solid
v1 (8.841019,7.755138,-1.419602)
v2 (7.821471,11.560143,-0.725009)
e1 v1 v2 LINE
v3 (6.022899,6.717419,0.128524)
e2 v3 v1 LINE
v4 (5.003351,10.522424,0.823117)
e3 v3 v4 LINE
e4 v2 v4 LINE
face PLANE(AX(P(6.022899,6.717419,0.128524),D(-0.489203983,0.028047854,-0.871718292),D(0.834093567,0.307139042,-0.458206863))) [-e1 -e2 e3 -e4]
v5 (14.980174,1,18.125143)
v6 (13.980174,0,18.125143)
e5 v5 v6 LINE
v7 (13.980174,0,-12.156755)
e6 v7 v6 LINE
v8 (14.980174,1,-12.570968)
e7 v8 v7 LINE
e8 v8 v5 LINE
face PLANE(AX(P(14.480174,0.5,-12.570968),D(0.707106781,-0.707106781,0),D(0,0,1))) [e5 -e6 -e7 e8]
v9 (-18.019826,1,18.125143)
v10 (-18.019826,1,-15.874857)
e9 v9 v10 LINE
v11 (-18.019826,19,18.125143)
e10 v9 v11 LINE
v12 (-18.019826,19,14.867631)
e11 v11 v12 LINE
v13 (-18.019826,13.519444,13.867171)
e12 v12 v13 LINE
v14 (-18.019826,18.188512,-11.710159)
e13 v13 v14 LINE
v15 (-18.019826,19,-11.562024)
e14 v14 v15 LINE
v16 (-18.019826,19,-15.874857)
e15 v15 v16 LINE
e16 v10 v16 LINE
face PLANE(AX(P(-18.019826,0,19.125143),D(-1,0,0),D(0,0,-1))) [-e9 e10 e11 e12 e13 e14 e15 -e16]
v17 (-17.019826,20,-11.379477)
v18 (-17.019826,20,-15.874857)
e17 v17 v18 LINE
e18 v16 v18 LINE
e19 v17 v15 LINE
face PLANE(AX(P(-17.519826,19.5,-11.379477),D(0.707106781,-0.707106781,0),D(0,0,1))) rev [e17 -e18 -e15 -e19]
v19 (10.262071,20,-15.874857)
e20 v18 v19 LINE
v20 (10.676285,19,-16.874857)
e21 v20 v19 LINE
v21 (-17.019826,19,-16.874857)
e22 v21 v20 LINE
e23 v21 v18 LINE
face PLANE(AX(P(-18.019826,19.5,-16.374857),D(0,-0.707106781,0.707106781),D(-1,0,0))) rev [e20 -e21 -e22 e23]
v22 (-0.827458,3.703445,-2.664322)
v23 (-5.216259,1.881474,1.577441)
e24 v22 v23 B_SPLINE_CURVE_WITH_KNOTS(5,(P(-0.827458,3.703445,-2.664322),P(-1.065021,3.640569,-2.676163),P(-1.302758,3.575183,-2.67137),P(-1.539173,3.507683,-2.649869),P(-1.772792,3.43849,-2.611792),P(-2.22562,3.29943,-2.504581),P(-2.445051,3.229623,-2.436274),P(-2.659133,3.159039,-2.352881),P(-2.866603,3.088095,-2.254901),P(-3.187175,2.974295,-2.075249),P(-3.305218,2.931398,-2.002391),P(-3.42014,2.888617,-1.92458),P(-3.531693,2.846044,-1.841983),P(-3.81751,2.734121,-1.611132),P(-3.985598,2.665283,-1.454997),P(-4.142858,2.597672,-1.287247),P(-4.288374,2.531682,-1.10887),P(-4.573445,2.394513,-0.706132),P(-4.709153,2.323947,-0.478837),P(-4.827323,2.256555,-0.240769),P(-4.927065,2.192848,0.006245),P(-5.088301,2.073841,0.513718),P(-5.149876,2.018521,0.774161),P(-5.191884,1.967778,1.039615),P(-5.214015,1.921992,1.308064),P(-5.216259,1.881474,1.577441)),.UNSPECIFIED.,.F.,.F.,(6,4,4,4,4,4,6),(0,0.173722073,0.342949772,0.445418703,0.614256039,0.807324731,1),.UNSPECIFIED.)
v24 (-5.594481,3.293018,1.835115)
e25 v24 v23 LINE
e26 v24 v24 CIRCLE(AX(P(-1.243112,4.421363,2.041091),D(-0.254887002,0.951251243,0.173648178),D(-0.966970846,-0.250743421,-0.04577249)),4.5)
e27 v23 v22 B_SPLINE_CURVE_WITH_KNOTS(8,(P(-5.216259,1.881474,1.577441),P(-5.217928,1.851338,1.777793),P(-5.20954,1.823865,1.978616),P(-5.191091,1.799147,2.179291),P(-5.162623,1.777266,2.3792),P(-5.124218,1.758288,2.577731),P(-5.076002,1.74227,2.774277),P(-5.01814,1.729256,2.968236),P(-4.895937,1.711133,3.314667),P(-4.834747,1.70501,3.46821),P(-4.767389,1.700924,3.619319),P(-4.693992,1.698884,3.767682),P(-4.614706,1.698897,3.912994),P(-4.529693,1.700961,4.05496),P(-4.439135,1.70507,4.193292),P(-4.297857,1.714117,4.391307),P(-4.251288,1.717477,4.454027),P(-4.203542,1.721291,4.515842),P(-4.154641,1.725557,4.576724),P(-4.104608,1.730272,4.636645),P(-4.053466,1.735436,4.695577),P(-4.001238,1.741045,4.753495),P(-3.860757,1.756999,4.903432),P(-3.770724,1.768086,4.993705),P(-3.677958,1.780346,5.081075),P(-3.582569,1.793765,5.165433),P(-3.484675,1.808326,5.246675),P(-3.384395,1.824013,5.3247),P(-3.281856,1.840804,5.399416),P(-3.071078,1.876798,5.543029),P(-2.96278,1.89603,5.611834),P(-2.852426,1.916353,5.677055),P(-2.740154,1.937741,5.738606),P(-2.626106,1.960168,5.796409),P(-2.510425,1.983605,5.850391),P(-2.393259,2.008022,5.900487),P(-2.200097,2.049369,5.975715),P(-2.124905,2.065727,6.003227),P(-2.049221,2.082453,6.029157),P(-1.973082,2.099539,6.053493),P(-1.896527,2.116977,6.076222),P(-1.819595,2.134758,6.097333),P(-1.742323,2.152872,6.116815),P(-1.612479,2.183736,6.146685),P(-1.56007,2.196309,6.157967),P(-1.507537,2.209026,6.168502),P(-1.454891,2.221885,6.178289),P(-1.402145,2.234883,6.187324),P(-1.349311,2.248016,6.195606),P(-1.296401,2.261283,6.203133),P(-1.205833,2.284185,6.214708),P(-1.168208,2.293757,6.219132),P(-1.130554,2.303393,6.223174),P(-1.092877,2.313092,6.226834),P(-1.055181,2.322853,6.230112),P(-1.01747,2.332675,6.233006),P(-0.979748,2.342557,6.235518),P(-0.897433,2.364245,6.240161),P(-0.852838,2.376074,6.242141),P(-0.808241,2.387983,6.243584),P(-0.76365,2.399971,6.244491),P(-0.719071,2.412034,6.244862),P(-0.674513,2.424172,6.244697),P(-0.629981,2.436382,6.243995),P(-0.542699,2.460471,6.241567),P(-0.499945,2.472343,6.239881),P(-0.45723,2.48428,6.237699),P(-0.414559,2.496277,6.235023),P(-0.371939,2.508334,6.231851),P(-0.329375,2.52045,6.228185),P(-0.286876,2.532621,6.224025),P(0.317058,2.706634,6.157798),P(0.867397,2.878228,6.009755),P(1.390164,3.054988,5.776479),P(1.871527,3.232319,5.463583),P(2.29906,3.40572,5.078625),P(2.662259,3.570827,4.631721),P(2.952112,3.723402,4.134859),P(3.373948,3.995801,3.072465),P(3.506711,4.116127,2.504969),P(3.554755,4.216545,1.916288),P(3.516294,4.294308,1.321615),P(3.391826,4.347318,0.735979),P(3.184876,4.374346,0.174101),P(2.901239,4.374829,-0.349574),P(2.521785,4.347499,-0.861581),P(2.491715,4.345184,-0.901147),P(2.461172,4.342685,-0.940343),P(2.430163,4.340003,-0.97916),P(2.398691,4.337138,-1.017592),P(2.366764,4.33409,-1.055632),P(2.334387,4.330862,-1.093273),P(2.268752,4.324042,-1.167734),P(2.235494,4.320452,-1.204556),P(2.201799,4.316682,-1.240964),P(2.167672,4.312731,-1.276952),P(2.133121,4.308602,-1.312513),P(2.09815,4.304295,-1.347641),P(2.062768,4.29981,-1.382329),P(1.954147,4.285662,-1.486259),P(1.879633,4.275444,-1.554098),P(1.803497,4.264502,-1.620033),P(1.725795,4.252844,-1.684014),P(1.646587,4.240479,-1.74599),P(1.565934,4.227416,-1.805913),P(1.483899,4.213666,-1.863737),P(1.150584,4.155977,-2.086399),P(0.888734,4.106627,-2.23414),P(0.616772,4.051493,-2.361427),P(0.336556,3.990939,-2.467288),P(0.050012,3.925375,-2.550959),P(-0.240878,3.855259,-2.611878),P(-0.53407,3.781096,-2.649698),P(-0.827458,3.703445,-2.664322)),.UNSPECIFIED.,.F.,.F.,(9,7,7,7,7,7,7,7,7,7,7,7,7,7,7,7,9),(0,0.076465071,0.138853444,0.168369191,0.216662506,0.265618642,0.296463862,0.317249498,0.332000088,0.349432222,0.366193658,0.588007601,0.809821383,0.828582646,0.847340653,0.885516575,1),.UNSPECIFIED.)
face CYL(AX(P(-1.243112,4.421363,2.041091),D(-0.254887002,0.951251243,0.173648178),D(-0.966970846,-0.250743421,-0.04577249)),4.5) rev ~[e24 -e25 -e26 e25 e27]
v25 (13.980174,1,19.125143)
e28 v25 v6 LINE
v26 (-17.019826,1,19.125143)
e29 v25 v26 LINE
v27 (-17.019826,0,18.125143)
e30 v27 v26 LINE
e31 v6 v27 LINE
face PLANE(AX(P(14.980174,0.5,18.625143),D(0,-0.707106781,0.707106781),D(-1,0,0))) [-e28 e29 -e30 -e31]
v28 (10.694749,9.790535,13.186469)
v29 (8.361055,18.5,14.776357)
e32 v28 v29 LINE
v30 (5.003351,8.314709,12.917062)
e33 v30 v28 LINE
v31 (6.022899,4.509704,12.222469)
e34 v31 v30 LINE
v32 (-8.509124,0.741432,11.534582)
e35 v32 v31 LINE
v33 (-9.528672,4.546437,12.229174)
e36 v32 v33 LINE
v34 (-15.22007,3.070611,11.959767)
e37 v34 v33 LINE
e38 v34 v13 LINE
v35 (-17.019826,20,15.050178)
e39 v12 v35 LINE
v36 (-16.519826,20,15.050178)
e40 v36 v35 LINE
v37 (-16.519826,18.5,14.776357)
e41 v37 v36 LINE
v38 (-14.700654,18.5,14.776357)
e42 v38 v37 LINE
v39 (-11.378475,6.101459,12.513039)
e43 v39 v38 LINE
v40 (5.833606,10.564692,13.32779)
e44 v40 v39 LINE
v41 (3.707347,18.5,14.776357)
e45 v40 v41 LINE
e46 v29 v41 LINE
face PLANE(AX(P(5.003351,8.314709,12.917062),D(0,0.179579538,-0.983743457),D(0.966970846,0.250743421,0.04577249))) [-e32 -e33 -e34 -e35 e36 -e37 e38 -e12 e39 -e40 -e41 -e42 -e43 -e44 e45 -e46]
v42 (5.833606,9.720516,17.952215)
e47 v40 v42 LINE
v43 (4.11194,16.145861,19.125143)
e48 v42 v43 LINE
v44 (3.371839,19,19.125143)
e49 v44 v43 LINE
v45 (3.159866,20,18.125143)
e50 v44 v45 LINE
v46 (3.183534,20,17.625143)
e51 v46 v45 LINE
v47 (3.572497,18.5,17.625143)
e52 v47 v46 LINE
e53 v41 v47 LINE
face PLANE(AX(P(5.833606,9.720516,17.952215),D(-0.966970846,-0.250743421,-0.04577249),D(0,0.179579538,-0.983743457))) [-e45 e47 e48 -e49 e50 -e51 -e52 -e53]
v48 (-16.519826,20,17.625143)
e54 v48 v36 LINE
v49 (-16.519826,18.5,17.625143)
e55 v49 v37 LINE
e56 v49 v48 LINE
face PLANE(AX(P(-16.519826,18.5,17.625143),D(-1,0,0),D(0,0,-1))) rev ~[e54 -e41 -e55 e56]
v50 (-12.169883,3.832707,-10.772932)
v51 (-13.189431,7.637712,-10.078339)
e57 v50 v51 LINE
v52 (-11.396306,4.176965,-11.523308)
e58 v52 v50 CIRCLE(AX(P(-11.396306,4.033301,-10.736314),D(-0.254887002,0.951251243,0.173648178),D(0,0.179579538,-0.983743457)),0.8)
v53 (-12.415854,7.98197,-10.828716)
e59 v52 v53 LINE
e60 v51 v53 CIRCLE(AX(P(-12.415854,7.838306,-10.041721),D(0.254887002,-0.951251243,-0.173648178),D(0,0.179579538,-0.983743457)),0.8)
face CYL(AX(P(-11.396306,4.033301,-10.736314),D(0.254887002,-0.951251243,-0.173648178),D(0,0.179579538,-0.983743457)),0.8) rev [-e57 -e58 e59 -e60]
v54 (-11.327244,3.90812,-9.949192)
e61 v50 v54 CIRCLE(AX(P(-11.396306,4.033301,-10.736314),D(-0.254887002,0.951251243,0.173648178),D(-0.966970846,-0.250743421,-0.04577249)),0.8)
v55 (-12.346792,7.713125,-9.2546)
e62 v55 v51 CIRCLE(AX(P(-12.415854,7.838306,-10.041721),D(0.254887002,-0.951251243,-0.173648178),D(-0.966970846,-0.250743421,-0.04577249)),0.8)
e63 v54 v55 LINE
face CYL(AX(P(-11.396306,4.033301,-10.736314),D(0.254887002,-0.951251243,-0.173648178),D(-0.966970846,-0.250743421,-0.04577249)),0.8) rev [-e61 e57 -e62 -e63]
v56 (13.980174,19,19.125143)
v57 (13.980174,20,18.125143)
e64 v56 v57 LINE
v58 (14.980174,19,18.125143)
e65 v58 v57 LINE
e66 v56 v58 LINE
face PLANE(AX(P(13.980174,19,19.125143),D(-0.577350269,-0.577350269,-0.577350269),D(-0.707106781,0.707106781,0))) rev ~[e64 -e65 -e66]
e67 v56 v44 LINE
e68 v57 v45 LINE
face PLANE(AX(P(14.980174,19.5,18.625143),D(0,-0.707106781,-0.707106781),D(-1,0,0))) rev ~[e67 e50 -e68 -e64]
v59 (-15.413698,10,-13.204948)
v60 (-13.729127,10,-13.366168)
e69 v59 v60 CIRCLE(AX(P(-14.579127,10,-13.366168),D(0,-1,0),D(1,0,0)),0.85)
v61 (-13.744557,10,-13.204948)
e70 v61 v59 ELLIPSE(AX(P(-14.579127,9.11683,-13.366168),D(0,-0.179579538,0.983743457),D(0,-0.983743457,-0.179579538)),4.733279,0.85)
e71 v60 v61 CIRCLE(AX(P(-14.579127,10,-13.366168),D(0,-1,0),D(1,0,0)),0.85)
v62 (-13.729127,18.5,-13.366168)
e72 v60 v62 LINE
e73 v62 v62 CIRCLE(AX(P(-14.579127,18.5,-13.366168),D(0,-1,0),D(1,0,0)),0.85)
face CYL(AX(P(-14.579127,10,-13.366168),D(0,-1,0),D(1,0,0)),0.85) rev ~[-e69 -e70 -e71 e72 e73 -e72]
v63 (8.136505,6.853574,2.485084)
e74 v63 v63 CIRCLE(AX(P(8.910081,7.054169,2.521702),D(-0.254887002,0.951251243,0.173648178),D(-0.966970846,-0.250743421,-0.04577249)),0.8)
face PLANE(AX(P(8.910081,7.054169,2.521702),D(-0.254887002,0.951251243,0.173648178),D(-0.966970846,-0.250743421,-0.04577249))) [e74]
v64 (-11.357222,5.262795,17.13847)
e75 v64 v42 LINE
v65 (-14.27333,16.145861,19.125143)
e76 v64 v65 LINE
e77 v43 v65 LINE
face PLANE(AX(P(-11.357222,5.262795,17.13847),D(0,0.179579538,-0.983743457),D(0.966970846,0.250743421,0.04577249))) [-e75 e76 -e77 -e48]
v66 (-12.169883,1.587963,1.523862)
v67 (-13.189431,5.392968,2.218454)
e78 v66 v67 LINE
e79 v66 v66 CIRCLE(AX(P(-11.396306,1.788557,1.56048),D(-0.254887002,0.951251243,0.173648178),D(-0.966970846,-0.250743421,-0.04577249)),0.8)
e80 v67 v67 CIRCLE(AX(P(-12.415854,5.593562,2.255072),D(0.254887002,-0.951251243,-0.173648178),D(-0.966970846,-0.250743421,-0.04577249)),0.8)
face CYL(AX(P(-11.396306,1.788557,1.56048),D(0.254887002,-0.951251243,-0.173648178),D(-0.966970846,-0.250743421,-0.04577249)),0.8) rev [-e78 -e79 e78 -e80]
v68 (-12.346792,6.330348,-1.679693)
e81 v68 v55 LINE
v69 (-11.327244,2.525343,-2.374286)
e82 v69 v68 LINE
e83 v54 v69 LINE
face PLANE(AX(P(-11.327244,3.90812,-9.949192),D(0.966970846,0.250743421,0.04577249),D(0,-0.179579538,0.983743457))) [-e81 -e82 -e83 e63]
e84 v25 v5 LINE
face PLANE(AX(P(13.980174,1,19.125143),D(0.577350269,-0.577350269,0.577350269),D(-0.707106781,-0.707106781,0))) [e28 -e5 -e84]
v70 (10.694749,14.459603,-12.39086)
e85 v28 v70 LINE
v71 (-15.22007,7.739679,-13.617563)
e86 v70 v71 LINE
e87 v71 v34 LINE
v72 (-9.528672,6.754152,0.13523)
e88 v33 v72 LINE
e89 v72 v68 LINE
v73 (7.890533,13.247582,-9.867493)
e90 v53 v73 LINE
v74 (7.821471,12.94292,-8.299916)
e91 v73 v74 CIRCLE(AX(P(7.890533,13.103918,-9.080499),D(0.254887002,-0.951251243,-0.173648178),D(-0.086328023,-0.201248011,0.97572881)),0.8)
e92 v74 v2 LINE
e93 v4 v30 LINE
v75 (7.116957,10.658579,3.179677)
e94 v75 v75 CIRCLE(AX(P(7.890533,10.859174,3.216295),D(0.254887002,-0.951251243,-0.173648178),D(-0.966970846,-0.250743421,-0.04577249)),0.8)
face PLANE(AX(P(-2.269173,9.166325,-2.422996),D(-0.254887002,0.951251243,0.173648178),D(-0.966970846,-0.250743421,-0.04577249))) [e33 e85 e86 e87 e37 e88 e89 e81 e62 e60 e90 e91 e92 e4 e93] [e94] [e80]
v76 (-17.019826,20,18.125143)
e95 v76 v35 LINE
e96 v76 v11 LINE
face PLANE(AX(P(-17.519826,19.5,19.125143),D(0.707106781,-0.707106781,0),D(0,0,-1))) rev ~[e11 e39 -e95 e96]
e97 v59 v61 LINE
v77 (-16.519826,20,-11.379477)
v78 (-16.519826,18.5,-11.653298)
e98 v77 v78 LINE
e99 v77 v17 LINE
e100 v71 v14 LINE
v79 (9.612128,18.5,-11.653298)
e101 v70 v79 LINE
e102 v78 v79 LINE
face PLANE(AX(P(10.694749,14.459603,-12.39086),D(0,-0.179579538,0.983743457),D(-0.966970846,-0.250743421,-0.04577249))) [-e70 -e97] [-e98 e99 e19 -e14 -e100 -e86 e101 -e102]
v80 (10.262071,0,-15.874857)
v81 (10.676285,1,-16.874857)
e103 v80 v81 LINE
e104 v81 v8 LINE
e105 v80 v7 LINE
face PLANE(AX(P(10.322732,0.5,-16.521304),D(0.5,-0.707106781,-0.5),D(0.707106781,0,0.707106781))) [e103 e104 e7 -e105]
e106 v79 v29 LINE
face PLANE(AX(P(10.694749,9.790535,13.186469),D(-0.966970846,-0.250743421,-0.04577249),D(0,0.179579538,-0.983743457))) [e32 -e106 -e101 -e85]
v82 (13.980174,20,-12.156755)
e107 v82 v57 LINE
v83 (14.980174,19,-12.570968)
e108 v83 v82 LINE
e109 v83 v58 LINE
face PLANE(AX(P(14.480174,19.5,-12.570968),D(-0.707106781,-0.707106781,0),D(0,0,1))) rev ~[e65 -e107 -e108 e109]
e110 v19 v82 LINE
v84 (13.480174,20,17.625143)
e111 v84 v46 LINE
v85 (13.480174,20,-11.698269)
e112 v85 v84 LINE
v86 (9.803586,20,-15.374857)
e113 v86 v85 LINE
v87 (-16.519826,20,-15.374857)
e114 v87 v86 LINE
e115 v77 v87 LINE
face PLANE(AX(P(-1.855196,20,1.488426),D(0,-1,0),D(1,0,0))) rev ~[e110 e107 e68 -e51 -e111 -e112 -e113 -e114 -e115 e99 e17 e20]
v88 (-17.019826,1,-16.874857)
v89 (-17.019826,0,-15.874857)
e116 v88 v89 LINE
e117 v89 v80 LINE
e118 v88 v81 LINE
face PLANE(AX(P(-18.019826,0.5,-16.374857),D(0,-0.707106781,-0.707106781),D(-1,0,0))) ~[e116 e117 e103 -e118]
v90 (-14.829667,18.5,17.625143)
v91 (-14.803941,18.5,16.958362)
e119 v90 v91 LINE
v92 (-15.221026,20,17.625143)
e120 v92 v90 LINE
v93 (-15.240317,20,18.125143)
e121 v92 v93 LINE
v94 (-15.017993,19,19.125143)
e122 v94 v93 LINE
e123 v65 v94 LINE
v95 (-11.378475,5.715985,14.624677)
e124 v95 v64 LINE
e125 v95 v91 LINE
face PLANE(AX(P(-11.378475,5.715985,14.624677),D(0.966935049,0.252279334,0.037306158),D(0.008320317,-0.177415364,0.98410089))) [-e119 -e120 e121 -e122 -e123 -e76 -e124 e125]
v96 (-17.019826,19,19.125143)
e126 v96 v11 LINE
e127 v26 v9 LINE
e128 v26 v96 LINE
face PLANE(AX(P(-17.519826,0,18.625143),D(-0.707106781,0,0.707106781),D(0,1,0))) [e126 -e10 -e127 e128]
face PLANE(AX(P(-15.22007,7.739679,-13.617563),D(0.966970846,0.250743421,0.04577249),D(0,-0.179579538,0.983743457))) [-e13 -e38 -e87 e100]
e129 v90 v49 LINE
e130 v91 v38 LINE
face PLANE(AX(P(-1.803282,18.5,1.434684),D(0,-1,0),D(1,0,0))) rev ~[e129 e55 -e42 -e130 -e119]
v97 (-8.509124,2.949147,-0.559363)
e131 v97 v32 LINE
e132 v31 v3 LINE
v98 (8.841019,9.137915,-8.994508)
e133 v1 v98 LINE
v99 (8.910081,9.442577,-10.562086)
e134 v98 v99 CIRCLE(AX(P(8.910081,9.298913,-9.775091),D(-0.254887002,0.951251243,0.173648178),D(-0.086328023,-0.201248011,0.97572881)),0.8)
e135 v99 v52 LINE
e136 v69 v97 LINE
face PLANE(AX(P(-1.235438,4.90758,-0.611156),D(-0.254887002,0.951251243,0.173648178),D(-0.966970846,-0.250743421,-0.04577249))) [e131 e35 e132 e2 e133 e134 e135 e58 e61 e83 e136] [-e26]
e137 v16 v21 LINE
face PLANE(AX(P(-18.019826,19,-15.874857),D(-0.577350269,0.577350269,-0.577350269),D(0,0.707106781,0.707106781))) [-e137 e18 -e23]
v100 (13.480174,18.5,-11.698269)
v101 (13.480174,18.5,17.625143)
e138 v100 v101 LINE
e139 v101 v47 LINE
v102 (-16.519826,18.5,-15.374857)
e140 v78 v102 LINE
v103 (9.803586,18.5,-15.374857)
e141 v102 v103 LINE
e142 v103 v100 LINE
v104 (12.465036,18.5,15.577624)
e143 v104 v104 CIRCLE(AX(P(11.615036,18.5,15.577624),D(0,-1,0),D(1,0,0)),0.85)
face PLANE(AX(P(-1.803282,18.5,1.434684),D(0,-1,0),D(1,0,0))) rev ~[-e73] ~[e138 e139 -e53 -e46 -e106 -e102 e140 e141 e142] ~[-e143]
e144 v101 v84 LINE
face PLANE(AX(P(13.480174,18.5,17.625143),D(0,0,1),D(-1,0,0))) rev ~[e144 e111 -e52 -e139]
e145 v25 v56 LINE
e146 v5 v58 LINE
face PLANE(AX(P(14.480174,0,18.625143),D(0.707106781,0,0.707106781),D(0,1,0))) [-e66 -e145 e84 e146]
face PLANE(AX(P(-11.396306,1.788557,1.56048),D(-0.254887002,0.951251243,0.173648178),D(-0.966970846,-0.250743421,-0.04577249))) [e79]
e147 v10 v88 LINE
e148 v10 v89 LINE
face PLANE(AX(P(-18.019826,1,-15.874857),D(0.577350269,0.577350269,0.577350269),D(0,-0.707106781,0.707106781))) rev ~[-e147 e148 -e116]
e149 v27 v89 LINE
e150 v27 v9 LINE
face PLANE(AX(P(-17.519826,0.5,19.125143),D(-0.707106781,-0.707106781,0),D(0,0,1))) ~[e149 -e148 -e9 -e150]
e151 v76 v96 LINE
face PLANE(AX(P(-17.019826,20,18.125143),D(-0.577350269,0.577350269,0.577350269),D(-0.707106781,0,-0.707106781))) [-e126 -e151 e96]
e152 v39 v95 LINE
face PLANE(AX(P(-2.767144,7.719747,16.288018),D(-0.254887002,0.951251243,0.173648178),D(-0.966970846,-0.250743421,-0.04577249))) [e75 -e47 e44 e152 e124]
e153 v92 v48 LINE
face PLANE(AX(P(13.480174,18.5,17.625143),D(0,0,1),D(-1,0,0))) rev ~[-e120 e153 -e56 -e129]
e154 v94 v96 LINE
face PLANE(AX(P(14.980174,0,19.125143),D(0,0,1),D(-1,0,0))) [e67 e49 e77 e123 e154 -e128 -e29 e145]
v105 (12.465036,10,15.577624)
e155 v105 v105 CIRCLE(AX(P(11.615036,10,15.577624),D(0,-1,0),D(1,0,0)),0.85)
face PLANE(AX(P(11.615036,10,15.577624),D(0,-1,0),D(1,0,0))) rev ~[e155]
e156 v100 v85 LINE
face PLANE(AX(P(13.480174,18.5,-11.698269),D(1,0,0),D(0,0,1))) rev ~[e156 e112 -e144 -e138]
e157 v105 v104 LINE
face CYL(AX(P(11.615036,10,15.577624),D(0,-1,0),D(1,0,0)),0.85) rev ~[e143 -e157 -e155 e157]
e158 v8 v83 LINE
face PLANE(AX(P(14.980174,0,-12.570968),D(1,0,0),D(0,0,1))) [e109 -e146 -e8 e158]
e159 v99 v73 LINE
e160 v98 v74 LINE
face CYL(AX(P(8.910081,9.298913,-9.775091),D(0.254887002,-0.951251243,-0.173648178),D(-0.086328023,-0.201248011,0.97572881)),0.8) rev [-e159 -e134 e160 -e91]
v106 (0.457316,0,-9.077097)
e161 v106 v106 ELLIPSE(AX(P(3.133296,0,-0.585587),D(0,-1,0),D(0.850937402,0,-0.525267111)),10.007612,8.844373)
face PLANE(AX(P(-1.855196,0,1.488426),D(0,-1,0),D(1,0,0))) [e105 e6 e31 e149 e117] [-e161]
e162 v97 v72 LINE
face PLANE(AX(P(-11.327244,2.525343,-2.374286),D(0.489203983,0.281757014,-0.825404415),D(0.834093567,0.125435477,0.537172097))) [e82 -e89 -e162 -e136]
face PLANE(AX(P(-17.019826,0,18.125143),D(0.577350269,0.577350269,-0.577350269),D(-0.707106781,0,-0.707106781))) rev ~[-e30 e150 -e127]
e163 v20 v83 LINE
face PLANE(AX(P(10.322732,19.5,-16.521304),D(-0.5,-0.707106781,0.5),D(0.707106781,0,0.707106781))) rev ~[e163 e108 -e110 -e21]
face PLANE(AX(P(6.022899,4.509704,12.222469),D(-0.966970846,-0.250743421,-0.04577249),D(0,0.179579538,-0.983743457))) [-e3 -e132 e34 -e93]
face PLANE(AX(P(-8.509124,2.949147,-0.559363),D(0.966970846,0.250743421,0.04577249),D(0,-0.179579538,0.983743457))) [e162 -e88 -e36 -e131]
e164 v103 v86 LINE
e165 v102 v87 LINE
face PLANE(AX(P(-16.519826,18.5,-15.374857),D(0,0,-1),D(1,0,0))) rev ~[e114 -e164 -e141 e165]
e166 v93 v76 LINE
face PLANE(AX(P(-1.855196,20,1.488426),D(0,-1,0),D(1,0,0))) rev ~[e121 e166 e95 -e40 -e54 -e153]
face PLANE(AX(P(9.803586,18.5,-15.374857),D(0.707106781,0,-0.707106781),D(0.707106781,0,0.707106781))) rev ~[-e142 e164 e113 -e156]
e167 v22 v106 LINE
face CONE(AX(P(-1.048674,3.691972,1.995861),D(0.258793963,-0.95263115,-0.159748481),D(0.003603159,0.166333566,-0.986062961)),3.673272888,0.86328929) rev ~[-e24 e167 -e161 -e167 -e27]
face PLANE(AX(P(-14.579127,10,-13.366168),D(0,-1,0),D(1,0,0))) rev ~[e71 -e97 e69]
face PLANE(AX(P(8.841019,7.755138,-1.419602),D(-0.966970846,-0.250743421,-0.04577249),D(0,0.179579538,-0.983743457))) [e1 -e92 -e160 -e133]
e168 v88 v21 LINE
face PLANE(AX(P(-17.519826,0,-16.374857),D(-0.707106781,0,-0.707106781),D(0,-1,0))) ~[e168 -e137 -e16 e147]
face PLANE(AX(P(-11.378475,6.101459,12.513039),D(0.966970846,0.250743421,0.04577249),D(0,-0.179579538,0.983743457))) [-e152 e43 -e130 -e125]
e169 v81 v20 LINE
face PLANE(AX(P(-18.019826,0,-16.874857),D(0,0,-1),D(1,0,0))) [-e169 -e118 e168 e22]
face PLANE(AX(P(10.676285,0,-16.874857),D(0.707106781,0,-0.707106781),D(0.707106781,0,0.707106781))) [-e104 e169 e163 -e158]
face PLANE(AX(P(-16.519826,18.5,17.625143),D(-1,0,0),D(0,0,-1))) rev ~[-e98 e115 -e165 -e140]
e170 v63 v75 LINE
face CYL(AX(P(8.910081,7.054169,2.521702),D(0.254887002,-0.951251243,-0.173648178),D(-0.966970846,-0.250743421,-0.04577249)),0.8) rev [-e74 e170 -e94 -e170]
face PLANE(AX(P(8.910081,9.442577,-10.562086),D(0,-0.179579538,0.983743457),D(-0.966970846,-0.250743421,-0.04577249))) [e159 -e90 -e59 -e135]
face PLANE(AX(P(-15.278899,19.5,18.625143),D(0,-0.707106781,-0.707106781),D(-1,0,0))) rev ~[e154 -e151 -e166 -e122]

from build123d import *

# Parameters (mm, degrees)
F3_R      = 0.85
F4_DEPTH  = 20
F2_R      = 4.5
F5_DEPTH  = 50
F6_START  = 4
F2_R_2    = 0.8
F6_DEPTH  = 21
F7_DEPTH  = 25
F8_START  = 6
F8_DEPTH  = 19
F9_START  = 6
F9_DEPTH  = 19
F13_SIZE  = 1
F14_START = -18.5
F14_DEPTH = 6.5
F15_START = -10
F15_DEPTH = 15


with BuildPart() as f4:
    # F3 (on Front) → F4 (new body)
    with BuildSketch(Plane.XZ):
        Polygon((14.9801738807, -12.5709681619), (14.9801738807, 19.1251428629), (-18.0198261193, 19.1251428629), (-18.0198261193, -16.8748571371), (10.6762849054, -16.8748571371), align=None)
        Polygon((-16.5198261193, 17.6251428629), (13.4801738807, 17.6251428629), (13.4801738807, -11.6982692705), (9.803586014, -15.3748571371), (-16.5198261193, -15.3748571371), align=None, mode=Mode.SUBTRACT)
        Polygon((13.4801738807, -11.6982692705), (13.4801738807, 17.6251428629), (-16.5198261193, 17.6251428629), (-16.5198261193, -15.3748571371), (9.803586014, -15.3748571371), align=None)
        with Locations((-14.5791273393, -13.3661682528)):
            Circle(F3_R, mode=Mode.SUBTRACT)
        with Locations((11.6150360554, 15.5776236206)):
            Circle(F3_R, mode=Mode.SUBTRACT)
        with Locations((11.6150360554, 15.5776236206)):
            Circle(F3_R)
        with Locations((-14.5791273393, -13.3661682528)):
            Circle(F3_R)
    extrude(amount=-F4_DEPTH)

    # F2 (on line) → F5 (cut)
    with BuildSketch(Plane(origin=(-1.2431124909, 4.6393589756, 0.846901634), x_dir=(-0.9669708455, -0.2507434208, -0.0457724901), z_dir=(-0.2548870022, 0.9512512426, 0.1736481777))):
        with Locations((0, 1.2139233295)):
            Circle(F2_R)
    extrude(amount=-F5_DEPTH, mode=Mode.SUBTRACT)

    # F2 (on line) → F6 (cut)
    with BuildSketch(Plane(origin=(-1.2431124909, 4.6393589756, 0.846901634), x_dir=(-0.9669708455, -0.2507434208, -0.0457724901), z_dir=(-0.2548870022, 0.9512512426, 0.1736481777)).offset(F6_START)):
        with BuildLine():
            Line((13.4, -14.7860766705), (13.4, 11.2139233295))
            Line((13.4, 11.2139233295), (8.9, 11.2139233295))
            Line((8.9, 11.2139233295), (7.5141987763, 11.2139233295))
            Line((7.5141987763, 11.2139233295), (7.5141987763, -1.0798760923))
            Line((7.5141987763, -1.0798760923), (10.4285785928, -2.7891881764))
            Line((10.4285785928, -2.7891881764), (10.4285785928, -10.4892711845))
            ThreePointArc((10.4285785928, -10.4892711845), (11.0398439007, -10.6956797169), (11.3, -11.2860766705))
            ThreePointArc((11.3, -11.2860766705), (11.0656854249, -11.8517620955), (10.5, -12.0860766705))
            Line((10.5, -12.0860766705), (0, -12.0860766705))
            Line((0, -12.0860766705), (-10.5, -12.0860766705))
            ThreePointArc((-10.5, -12.0860766705), (-11.2992009725, -11.250330264), (-10.4285785928, -10.4892711845))
            Line((-10.4285785928, -10.4892711845), (-10.4285785928, -2.7891881764))
            Line((-10.4285785928, -2.7891881764), (-7.5141987763, -1.0798760923))
            Line((-7.5141987763, -1.0798760923), (-7.5141987763, 11.2139233295))
            Line((-7.5141987763, 11.2139233295), (-8.9, 11.2139233295))
            Line((-8.9, 11.2139233295), (-13.4, 11.2139233295))
            Line((-13.4, 11.2139233295), (-13.4, -14.7860766705))
            Line((-13.4, -14.7860766705), (13.4, -14.7860766705))
        make_face()
        with Locations((-10.5, 1.2139233295)):
            Circle(F2_R_2, mode=Mode.SUBTRACT)
        with Locations((10.5, 1.2139233295)):
            Circle(F2_R_2, mode=Mode.SUBTRACT)
        with Locations((-10.5, 1.2139233295)):
            Circle(F2_R_2)
        with Locations((10.5, 1.2139233295)):
            Circle(F2_R_2)
        with BuildLine():
            ThreePointArc((-9.7, -11.2860766705), (-9.9096030464, -10.7462327698), (-10.4285785928, -10.4892711845))
            ThreePointArc((-10.4285785928, -10.4892711845), (-11.2992009725, -11.250330264), (-10.5, -12.0860766705))
            ThreePointArc((-10.5, -12.0860766705), (-9.9343145751, -11.8517620955), (-9.7, -11.2860766705))
        make_face()
        with BuildLine():
            ThreePointArc((11.3, -11.2860766705), (11.0398439007, -10.6956797169), (10.4285785928, -10.4892711845))
            ThreePointArc((10.4285785928, -10.4892711845), (9.7007990275, -11.321823077), (10.5, -12.0860766705))
            ThreePointArc((10.5, -12.0860766705), (11.0656854249, -11.8517620955), (11.3, -11.2860766705))
        make_face()
    extrude(amount=F6_DEPTH, mode=Mode.SUBTRACT)

    # F2 (on line) → F7 (cut)
    with BuildSketch(Plane(origin=(-1.2431124909, 4.6393589756, 0.846901634), x_dir=(-0.9669708455, -0.2507434208, -0.0457724901), z_dir=(-0.2548870022, 0.9512512426, 0.1736481777))):
        with BuildLine():
            Line((7.5141987763, -1.0798760923), (7.5141987763, 11.2139233295))
            Line((7.5141987763, 11.2139233295), (-7.5141987763, 11.2139233295))
            Line((-7.5141987763, 11.2139233295), (-7.5141987763, -1.0798760923))
            Line((-7.5141987763, -1.0798760923), (-10.4285785928, -2.7891881764))
            Line((-10.4285785928, -2.7891881764), (-10.4285785928, -10.4892711845))
            ThreePointArc((-10.4285785928, -10.4892711845), (-9.9096030464, -10.7462327698), (-9.7, -11.2860766705))
            ThreePointArc((-9.7, -11.2860766705), (-9.9343145751, -11.8517620955), (-10.5, -12.0860766705))
            Line((-10.5, -12.0860766705), (0, -12.0860766705))
            Line((0, -12.0860766705), (10.5, -12.0860766705))
            ThreePointArc((10.5, -12.0860766705), (9.7007990275, -11.321823077), (10.4285785928, -10.4892711845))
            Line((10.4285785928, -10.4892711845), (10.4285785928, -2.7891881764))
            Line((10.4285785928, -2.7891881764), (7.5141987763, -1.0798760923))
        make_face()
        with Locations((0, 1.2139233295)):
            Circle(F2_R, mode=Mode.SUBTRACT)
        with Locations((0, 1.2139233295)):
            Circle(F2_R)
        with Locations((10.5, 1.2139233295)):
            Circle(F2_R_2)
        with Locations((-10.5, 1.2139233295)):
            Circle(F2_R_2)
        with BuildLine():
            ThreePointArc((-9.7, -11.2860766705), (-9.9096030464, -10.7462327698), (-10.4285785928, -10.4892711845))
            ThreePointArc((-10.4285785928, -10.4892711845), (-11.2992009725, -11.250330264), (-10.5, -12.0860766705))
            ThreePointArc((-10.5, -12.0860766705), (-9.9343145751, -11.8517620955), (-9.7, -11.2860766705))
        make_face()
        with BuildLine():
            ThreePointArc((11.3, -11.2860766705), (11.0398439007, -10.6956797169), (10.4285785928, -10.4892711845))
            ThreePointArc((10.4285785928, -10.4892711845), (9.7007990275, -11.321823077), (10.5, -12.0860766705))
            ThreePointArc((10.5, -12.0860766705), (11.0656854249, -11.8517620955), (11.3, -11.2860766705))
        make_face()
    extrude(amount=F7_DEPTH, mode=Mode.SUBTRACT)

    # F2 (on line) → F8 (cut)
    with BuildSketch(Plane(origin=(-1.2431124909, 4.6393589756, 0.846901634), x_dir=(-0.9669708455, -0.2507434208, -0.0457724901), z_dir=(-0.2548870022, 0.9512512426, 0.1736481777)).offset(F8_START)):
        Polygon((7.5141987763, 11.2139233295), (8.9, 11.2139233295), (8.9, 13.3604565635), (-8.9, 13.3604565635), (-8.9, 11.2139233295), (-7.5141987763, 11.2139233295), align=None)
    extrude(amount=F8_DEPTH, mode=Mode.SUBTRACT)

    # F2 (on line) → F9 (cut)
    with BuildSketch(Plane(origin=(-1.2431124909, 4.6393589756, 0.846901634), x_dir=(-0.9669708455, -0.2507434208, -0.0457724901), z_dir=(-0.2548870022, 0.9512512426, 0.1736481777)).offset(F9_START)):
        Polygon((-8.9, 13.3604565635), (8.9, 13.3604565635), (8.8780205697, 15.9147679806), (-8.9, 15.9147679806), align=None)
    extrude(amount=F9_DEPTH, mode=Mode.SUBTRACT)

    # F11 (on line) → F12 (revolve, cut)
    with BuildSketch(Plane(origin=(0.0191665666, 0.0050521779, 0.0009222605), x_dir=(0.2543172943, -0.967043413, 0.0122372884), z_dir=(-0.9659258263, -0.2546115422, -0.0464786045))):
        Polygon((5.9364409902, 0.3417365793), (-3.8125691497, 2.0439563921), (-4.4443800577, -1.574572133), (2.9824459925, -14.1161987558), align=None)
    revolve(axis=Axis((0.3963748827, -1.6273101694, 1.1038607146), (0.2587939631, -0.9526311498, -0.1597484808)), mode=Mode.SUBTRACT)

    # F13
    f13_edges = [f4.edges().sort_by_distance(p)[0] for p in [
        (-3.671771, 0, -16.874857),
        (12.828229, 0, -14.722913),
        (14.980174, 0, 3.277087),
        (14.980174, 20, 3.277087),
        (12.828229, 20, -14.722913),
        (-3.671771, 20, -16.874857),
        (-18.019826, 10, 19.125143),
        (-18.019826, 10, -16.874857),
        (14.980174, 10, 19.125143),
        (-1.519826, 0, 19.125143),
        (-18.019826, 0, 1.125143),
        (9.046352, 20, 19.125143),
        (-16.649363, 20, 19.125143),
        (-18.019826, 20, -14.127167),
        (-18.019826, 20, 17.08766),
    ]]
    chamfer(f13_edges, length=F13_SIZE)

    # F3 (on Front) → F14 (cut)
    with BuildSketch(Plane.XZ.offset(F14_START)):
        Polygon((13.4801738807, -11.6982692705), (13.4801738807, 17.6251428629), (-16.5198261193, 17.6251428629), (-16.5198261193, -15.3748571371), (9.803586014, -15.3748571371), align=None)
        with Locations((-14.5791273393, -13.3661682528)):
            Circle(F3_R, mode=Mode.SUBTRACT)
        with Locations((11.6150360554, 15.5776236206)):
            Circle(F3_R, mode=Mode.SUBTRACT)
    extrude(amount=-F14_DEPTH, mode=Mode.SUBTRACT)

    # F3 (on Front) → F15 (cut)
    with BuildSketch(Plane.XZ.offset(F15_START)):
        with Locations((11.6150360554, 15.5776236206)):
            Circle(F3_R)
        with Locations((-14.5791273393, -13.3661682528)):
            Circle(F3_R)
    extrude(amount=-F15_DEPTH, mode=Mode.SUBTRACT)


solid = f4.part
